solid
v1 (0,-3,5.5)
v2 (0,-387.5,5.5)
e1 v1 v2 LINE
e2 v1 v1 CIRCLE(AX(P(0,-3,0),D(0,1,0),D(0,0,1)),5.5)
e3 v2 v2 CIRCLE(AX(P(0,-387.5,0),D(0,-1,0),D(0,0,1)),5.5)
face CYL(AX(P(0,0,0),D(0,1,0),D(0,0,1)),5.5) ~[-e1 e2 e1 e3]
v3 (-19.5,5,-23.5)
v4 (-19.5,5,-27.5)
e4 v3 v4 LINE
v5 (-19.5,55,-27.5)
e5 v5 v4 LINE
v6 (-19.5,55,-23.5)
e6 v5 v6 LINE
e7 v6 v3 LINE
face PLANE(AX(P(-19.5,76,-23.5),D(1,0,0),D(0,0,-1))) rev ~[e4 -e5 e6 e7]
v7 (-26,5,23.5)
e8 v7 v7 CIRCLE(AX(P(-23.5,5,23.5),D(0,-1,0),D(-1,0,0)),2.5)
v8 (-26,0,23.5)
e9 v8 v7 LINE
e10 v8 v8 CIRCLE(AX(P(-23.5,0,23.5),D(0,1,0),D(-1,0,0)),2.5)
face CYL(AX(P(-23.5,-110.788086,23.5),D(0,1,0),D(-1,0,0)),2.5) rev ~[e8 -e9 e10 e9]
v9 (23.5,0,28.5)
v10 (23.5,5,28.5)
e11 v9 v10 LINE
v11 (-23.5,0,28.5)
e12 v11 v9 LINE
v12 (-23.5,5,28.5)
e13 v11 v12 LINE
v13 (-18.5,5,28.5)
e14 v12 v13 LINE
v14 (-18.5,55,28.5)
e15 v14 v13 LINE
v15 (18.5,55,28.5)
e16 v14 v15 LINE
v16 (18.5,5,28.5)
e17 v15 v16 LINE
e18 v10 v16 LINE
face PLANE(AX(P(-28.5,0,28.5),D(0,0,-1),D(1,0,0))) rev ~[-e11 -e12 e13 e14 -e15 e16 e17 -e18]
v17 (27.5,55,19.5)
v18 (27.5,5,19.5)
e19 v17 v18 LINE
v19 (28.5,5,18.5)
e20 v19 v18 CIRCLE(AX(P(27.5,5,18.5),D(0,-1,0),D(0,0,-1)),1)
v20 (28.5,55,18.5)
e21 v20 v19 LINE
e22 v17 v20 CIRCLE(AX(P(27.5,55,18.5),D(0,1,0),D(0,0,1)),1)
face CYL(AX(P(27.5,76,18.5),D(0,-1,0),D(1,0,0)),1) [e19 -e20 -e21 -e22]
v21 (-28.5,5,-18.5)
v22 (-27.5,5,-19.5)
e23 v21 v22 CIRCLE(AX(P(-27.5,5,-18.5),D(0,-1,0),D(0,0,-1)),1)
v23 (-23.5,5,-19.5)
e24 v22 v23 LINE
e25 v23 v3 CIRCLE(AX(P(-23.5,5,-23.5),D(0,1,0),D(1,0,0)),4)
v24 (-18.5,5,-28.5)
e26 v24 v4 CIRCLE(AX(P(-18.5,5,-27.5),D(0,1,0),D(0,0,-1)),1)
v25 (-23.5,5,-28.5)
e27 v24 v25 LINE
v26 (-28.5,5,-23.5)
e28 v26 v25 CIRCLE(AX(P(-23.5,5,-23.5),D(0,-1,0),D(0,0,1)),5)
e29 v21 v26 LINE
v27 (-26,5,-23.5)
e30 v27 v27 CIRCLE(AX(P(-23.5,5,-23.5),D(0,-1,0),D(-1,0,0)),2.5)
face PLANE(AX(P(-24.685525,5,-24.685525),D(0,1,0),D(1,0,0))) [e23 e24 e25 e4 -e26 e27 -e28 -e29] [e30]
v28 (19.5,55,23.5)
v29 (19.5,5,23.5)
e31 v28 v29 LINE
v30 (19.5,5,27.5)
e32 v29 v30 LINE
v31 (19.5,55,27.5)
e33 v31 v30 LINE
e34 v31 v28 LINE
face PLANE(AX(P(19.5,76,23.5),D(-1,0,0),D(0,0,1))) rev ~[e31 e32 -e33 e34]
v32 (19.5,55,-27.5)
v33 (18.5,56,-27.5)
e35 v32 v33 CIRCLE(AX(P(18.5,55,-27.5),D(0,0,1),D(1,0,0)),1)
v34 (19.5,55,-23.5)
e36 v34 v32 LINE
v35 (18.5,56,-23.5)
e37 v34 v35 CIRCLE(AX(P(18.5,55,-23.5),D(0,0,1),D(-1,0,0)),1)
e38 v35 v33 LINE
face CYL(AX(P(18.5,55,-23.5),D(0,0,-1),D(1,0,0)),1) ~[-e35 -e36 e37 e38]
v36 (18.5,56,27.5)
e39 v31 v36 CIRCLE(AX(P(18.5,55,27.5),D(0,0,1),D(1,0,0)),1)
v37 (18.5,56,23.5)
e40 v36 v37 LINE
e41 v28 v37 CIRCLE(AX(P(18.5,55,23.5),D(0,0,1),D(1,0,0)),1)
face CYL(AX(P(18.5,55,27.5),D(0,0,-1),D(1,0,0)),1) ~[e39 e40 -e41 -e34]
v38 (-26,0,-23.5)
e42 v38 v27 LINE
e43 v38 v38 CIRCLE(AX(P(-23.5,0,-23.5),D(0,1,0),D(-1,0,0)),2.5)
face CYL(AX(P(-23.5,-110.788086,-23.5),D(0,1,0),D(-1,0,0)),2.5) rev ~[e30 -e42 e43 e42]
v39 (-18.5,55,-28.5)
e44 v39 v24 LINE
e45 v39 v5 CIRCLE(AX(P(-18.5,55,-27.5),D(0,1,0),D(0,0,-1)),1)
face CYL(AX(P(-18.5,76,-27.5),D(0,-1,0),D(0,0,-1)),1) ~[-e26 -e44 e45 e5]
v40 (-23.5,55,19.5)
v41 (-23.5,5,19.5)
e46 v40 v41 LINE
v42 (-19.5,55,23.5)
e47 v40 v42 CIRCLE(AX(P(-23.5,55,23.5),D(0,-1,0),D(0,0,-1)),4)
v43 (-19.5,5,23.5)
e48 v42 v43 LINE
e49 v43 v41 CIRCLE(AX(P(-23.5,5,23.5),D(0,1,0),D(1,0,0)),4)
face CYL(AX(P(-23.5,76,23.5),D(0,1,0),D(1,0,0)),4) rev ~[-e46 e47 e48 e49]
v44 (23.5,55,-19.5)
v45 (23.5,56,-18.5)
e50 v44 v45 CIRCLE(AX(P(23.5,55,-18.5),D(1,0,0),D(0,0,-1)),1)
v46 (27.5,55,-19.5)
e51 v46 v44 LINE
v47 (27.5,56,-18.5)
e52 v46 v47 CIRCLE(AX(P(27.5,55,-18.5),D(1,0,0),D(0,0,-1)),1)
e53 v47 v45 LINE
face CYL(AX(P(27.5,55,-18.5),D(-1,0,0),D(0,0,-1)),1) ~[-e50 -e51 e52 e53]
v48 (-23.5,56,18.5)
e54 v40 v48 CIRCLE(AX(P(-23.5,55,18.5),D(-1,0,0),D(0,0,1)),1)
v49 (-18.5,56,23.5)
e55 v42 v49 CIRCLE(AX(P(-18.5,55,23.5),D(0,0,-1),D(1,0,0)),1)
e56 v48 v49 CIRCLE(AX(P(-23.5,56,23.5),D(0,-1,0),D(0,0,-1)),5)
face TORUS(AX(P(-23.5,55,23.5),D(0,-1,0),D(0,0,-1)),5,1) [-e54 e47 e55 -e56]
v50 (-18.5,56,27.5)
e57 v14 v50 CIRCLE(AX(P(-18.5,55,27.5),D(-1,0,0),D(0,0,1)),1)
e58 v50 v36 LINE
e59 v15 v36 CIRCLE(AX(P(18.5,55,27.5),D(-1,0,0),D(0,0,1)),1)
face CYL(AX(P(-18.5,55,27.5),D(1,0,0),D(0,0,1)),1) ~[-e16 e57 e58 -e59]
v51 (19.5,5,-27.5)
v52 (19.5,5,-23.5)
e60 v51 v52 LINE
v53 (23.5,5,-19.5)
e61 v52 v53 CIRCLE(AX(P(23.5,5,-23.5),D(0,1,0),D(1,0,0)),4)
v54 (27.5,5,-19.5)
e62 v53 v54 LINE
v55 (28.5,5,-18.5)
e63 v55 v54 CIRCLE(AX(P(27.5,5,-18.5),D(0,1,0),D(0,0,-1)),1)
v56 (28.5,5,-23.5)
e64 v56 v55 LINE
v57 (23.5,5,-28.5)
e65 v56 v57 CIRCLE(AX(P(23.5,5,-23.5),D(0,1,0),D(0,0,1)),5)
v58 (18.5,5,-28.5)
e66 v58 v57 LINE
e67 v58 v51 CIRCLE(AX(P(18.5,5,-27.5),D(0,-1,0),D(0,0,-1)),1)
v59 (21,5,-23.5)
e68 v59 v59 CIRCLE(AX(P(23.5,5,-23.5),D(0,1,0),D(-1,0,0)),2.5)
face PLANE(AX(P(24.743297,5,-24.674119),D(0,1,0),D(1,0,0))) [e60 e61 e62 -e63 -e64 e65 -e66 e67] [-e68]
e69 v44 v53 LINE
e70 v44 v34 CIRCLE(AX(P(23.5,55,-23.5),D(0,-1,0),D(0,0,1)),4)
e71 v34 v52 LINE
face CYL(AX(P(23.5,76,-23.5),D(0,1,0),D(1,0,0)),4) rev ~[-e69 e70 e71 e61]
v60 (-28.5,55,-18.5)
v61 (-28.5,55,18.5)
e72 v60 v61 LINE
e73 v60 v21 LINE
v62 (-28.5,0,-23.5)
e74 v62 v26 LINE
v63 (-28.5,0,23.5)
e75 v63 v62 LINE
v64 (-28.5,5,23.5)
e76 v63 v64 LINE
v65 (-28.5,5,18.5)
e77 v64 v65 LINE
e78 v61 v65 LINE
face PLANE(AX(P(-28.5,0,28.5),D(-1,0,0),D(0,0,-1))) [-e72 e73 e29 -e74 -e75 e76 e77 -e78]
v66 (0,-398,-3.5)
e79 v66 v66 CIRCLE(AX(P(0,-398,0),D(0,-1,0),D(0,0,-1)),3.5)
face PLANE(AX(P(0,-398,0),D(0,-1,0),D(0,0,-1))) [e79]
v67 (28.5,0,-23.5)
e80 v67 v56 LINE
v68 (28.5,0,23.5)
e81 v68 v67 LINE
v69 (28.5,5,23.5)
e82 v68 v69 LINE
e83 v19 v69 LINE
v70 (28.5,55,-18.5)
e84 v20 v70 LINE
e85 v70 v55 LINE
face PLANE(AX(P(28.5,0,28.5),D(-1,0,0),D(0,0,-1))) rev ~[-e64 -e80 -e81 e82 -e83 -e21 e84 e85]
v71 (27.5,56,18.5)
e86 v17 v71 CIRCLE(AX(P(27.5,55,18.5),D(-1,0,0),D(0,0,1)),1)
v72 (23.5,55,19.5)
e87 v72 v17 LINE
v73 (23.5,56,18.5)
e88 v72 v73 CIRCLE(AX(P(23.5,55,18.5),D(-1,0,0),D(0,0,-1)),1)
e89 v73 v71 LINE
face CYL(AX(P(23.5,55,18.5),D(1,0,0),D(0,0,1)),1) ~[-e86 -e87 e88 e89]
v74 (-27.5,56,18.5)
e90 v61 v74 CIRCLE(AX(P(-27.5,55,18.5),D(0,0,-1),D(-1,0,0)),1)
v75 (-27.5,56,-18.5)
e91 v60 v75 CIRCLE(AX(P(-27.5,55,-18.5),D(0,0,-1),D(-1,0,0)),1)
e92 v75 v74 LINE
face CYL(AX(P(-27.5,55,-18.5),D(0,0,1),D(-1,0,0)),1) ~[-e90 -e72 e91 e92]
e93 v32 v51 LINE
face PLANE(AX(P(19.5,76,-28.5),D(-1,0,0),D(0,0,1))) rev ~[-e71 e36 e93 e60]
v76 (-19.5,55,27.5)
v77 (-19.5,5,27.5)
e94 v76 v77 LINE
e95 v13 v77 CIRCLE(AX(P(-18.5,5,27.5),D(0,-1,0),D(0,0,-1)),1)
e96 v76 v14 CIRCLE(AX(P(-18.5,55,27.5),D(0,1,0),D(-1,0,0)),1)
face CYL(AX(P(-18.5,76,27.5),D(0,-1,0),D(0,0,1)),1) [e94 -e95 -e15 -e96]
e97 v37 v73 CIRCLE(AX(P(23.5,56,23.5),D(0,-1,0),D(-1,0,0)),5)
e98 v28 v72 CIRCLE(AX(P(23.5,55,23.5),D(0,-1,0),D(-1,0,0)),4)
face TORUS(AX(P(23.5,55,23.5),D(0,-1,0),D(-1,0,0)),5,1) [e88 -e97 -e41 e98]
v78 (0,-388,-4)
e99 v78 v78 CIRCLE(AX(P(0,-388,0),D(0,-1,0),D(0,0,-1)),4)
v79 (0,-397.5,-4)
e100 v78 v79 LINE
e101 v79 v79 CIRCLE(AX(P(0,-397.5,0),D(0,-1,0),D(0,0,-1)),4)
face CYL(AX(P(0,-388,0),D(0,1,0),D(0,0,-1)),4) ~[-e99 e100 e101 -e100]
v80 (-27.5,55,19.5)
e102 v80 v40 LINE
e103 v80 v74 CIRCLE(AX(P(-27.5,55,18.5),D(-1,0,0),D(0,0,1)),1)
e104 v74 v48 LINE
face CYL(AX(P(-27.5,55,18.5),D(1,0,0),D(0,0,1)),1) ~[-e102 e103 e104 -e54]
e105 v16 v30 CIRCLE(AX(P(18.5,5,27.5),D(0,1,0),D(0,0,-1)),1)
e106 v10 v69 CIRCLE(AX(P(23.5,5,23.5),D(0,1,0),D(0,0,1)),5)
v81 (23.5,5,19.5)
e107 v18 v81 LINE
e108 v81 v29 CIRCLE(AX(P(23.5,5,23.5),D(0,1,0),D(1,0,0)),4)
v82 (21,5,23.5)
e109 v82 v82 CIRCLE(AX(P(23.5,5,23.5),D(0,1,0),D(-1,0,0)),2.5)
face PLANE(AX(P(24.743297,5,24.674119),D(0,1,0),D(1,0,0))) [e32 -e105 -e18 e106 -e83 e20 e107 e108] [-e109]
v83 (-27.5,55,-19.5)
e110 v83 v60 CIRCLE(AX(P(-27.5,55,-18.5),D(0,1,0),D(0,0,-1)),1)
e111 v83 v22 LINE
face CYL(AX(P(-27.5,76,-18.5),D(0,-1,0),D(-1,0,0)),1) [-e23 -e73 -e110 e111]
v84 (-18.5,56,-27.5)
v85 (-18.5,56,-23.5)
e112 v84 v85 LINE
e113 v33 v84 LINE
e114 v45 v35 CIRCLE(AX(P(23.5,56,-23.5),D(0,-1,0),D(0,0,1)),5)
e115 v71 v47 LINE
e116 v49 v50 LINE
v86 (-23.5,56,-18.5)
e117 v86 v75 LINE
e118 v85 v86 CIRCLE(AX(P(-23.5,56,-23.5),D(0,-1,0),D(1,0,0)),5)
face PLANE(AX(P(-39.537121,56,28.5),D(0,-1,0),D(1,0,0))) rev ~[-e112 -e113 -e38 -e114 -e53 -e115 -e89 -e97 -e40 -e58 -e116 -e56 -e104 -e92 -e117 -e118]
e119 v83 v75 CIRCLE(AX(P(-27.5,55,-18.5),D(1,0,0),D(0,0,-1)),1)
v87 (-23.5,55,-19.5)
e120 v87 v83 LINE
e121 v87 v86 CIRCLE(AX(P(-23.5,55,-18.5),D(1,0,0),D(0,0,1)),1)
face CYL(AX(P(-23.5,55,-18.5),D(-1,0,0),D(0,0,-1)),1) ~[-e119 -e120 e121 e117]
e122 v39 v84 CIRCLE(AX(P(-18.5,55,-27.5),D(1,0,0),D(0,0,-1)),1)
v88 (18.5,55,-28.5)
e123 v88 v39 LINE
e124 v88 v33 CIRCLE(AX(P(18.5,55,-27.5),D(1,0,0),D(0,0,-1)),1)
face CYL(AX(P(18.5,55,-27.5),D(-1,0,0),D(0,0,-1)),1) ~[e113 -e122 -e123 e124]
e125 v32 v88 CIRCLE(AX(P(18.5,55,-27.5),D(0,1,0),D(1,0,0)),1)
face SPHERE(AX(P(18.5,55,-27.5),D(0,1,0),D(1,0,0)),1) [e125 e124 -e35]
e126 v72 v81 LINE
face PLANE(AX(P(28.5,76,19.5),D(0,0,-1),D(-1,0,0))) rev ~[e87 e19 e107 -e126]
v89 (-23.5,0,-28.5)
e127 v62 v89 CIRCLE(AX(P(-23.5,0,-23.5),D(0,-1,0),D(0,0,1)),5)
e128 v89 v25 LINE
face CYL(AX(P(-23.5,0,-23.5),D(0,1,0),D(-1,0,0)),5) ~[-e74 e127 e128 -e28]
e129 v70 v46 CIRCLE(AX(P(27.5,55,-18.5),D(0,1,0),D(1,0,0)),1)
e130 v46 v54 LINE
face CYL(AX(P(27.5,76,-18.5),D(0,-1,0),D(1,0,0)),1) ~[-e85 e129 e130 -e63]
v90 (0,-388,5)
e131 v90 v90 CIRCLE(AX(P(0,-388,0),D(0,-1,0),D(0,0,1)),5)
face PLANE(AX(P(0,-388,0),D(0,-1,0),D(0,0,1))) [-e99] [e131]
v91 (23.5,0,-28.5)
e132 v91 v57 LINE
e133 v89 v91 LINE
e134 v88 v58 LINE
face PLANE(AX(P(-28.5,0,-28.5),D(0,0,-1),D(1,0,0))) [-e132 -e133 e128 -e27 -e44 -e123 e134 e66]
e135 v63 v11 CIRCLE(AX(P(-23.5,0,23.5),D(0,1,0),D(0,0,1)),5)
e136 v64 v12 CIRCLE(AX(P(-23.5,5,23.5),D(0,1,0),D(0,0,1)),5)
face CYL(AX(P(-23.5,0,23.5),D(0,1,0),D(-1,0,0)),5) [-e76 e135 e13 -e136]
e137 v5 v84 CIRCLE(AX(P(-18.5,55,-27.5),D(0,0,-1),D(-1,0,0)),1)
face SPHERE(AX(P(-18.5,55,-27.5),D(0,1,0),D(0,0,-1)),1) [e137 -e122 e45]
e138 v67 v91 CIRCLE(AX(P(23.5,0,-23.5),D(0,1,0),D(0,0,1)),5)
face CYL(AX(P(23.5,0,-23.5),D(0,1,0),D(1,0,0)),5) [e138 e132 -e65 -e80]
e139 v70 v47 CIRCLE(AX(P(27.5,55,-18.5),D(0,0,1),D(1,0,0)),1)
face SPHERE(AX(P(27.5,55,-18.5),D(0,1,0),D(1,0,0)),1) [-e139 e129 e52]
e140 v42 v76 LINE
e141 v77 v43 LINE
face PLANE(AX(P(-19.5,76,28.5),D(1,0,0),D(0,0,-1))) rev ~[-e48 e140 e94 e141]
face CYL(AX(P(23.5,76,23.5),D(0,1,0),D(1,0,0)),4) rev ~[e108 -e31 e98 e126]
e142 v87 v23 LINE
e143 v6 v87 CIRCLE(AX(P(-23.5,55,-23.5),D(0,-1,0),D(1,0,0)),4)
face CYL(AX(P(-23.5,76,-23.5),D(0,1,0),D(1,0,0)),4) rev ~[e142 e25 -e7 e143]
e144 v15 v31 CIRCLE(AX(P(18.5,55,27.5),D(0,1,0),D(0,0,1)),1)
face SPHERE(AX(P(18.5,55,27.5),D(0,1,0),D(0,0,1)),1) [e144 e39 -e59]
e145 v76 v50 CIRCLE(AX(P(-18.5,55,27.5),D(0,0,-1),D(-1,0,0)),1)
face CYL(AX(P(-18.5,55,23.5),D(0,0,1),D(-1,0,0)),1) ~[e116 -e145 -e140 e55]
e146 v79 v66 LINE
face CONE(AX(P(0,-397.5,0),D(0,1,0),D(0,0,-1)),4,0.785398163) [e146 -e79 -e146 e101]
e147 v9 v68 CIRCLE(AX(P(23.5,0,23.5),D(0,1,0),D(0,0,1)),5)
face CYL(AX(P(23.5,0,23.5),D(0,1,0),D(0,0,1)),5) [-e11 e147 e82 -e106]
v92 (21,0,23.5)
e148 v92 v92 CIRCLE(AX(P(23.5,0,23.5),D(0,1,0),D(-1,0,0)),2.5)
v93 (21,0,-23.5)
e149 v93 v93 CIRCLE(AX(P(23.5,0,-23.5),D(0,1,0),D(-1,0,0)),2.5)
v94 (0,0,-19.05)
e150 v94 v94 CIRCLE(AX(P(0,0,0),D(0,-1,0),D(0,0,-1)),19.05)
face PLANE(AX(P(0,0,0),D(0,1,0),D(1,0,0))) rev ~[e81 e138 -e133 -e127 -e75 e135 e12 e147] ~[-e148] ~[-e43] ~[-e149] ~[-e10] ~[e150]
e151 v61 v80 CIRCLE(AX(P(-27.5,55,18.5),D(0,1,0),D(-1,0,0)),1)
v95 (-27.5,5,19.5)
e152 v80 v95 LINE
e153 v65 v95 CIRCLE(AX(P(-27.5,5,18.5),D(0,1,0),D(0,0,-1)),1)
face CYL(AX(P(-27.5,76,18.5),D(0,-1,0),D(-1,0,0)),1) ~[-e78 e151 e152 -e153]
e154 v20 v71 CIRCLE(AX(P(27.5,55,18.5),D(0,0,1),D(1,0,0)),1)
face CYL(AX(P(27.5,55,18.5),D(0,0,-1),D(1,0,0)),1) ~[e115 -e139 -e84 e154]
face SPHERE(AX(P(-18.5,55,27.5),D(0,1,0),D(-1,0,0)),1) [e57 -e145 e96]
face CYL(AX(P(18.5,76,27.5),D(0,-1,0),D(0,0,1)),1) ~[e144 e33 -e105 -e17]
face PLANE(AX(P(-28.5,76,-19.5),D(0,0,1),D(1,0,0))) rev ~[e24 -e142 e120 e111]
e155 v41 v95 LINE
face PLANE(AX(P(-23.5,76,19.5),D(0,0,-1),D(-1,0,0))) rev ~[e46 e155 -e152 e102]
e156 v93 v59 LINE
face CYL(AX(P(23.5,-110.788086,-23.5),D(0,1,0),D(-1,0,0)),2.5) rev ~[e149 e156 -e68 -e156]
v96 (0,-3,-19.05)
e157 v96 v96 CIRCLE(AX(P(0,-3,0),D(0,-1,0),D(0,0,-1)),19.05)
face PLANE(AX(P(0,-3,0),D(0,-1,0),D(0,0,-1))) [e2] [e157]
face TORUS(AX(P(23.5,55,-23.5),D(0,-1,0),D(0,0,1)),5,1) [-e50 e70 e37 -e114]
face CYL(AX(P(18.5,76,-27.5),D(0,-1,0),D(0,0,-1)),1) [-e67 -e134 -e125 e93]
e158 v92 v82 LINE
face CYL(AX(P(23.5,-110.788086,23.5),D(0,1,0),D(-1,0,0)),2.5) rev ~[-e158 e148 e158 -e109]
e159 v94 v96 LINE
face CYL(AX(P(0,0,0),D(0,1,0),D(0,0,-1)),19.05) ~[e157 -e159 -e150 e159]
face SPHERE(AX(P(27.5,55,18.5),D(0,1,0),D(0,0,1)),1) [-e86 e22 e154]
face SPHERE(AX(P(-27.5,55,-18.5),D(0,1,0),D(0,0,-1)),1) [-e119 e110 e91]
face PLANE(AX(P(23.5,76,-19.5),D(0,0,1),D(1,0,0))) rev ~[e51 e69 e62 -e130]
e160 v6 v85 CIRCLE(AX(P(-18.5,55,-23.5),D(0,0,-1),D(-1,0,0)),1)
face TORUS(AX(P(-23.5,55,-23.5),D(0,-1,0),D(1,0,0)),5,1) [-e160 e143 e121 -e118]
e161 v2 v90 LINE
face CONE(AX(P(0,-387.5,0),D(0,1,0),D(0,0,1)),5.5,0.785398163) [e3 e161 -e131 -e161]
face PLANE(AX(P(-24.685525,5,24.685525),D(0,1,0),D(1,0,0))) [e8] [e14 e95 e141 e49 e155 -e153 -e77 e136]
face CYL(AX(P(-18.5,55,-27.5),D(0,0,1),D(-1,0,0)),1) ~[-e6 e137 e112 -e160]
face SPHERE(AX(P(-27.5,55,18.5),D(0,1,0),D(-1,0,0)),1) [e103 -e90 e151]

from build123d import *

# Parameters (mm, degrees)
SKETCH1_W                = 57
SKETCH1_H                = 57
EXTRUDE1_DEPTH           = 76
F_5_0_5_DIAMETER_HOLE1_D = 5
SKETCH6_R                = 4
SKETCH6_R_2              = 2.5
EXTRUDE4_DEPTH           = 71
FILLET1_R                = 5
SKETCH7_R                = 3
EXTRUDE5_DEPTH           = 101
SKETCH8_R                = 19.05
EXTRUDE6_DEPTH           = 3
FILLET2_R                = 1
SKETCH9_R                = 5.5
BOSS_EXTRUDE1_DEPTH      = 388
CHAMFER1_SIZE            = 0.5
SKETCH10_R               = 4
BOSS_EXTRUDE2_DEPTH      = 10
CHAMFER2_SIZE            = 0.5
CUT_EXTRUDE1_REACH       = 405.07
SKETCH11_W               = 81.226597498
SKETCH11_H               = 31.824543895
FILLET3_R                = 1


with BuildPart() as part:
    # Sketch1 → Extrude1 (new body)
    with BuildSketch(Plane(origin=(0, 0, 0), x_dir=(1, 0, 0), z_dir=(0, 1, 0))):
        Rectangle(SKETCH1_W, SKETCH1_H)
    extrude(amount=EXTRUDE1_DEPTH)

    # Ø5.0 (5) Diameter Hole1 (through all)
    with Locations(Plane.XZ):
        with Locations((-23.5, 23.5), (23.5, 23.5), (23.5, -23.5), (-23.5, -23.5)):
            Hole(F_5_0_5_DIAMETER_HOLE1_D / 2)

    # Sketch6 → Extrude4 (cut)
    # profile 1 of 12: a face of its own
    with BuildSketch(Plane(origin=(0, 76, 0), x_dir=(1, 0, 0), z_dir=(0, 1, 0))):
        Polygon((-28.5, 28.5), (-19.5, 28.5), (-19.5, 32.511741208), (-33.908905561, 32.511741208), (-33.908905561, 19.5), (-28.5, 19.5), align=None)
    # profile 2 of 12: a face of its own
    with BuildSketch(Plane(origin=(0, 76, 0), x_dir=(1, 0, 0), z_dir=(0, 1, 0))):
        with BuildLine():
            ThreePointArc((-23.5, 19.5), (-26.328427125, 26.328427125), (-19.5, 23.5))
            Line((-19.5, 23.5), (-19.5, 28.5))
            Line((-19.5, 28.5), (-28.5, 28.5))
            Line((-28.5, 28.5), (-28.5, 19.5))
            Line((-28.5, 19.5), (-23.5, 19.5))
        make_face()
    # profile 3 of 12: a face of its own
    with BuildSketch(Plane(origin=(0, 76, 0), x_dir=(1, 0, 0), z_dir=(0, 1, 0))):
        with Locations((-23.5, 23.5)):
            Circle(SKETCH6_R)
        with Locations(Location((-23.5, 23.5, 0), (0, 0, 90))):
            Circle(SKETCH6_R_2, mode=Mode.SUBTRACT)
    # profile 4 of 12: a face of its own
    with BuildSketch(Plane(origin=(0, 76, 0), x_dir=(1, 0, 0), z_dir=(0, 1, 0))):
        Polygon((19.5, 36.471560472), (19.5, 28.5), (28.5, 28.5), (28.5, 19.5), (41.168352552, 19.5), (41.168352552, 36.471560472), align=None)
    # profile 5 of 12: a face of its own
    with BuildSketch(Plane(origin=(0, 76, 0), x_dir=(1, 0, 0), z_dir=(0, 1, 0))):
        with BuildLine():
            Line((28.5, 28.5), (19.5, 28.5))
            Line((19.5, 28.5), (19.5, 23.5))
            ThreePointArc((19.5, 23.5), (23.5, 27.5), (27.5, 23.5))
            ThreePointArc((27.5, 23.5), (26.328427125, 20.671572875), (23.5, 19.5))
            Line((23.5, 19.5), (28.5, 19.5))
            Line((28.5, 19.5), (28.5, 28.5))
        make_face()
    # profile 6 of 12: a face of its own
    with BuildSketch(Plane(origin=(0, 76, 0), x_dir=(1, 0, 0), z_dir=(0, 1, 0))):
        with Locations((23.5, 23.5)):
            Circle(SKETCH6_R)
        with Locations(Location((23.5, 23.5, 0), (0, 0, 90))):
            Circle(SKETCH6_R_2, mode=Mode.SUBTRACT)
    # profile 7 of 12: a face of its own
    with BuildSketch(Plane(origin=(0, 76, 0), x_dir=(1, 0, 0), z_dir=(0, 1, 0))):
        with Locations((23.5, -23.5)):
            Circle(SKETCH6_R)
        with Locations(Location((23.5, -23.5, 0), (0, 0, 90))):
            Circle(SKETCH6_R_2, mode=Mode.SUBTRACT)
    # profile 8 of 12: a face of its own
    with BuildSketch(Plane(origin=(0, 76, 0), x_dir=(1, 0, 0), z_dir=(0, 1, 0))):
        with BuildLine():
            Line((28.5, -28.5), (28.5, -19.5))
            Line((28.5, -19.5), (23.5, -19.5))
            ThreePointArc((23.5, -19.5), (26.328427125, -20.671572875), (27.5, -23.5))
            ThreePointArc((27.5, -23.5), (23.5, -27.5), (19.5, -23.5))
            Line((19.5, -23.5), (19.5, -28.5))
            Line((19.5, -28.5), (28.5, -28.5))
        make_face()
    # profile 9 of 12: a face of its own
    with BuildSketch(Plane(origin=(0, 76, 0), x_dir=(1, 0, 0), z_dir=(0, 1, 0))):
        Polygon((44.252209519, -19.5), (28.5, -19.5), (28.5, -28.5), (19.5, -28.5), (19.5, -40.050429997), (44.252209519, -40.050429997), align=None)
    # profile 10 of 12: a face of its own
    with BuildSketch(Plane(origin=(0, 76, 0), x_dir=(1, 0, 0), z_dir=(0, 1, 0))):
        Polygon((-28.5, -28.5), (-28.5, -19.5), (-37.670786859, -19.5), (-37.670786859, -37.828231874), (-19.5, -37.828231874), (-19.5, -28.5), align=None)
    # profile 11 of 12: a face of its own
    with BuildSketch(Plane(origin=(0, 76, 0), x_dir=(1, 0, 0), z_dir=(0, 1, 0))):
        with BuildLine():
            Line((-23.5, -19.5), (-28.5, -19.5))
            Line((-28.5, -19.5), (-28.5, -28.5))
            Line((-28.5, -28.5), (-19.5, -28.5))
            Line((-19.5, -28.5), (-19.5, -23.5))
            ThreePointArc((-19.5, -23.5), (-26.328427125, -26.328427125), (-23.5, -19.5))
        make_face()
    # profile 12 of 12: a face of its own
    with BuildSketch(Plane(origin=(0, 76, 0), x_dir=(1, 0, 0), z_dir=(0, 1, 0))):
        with Locations((-23.5, -23.5)):
            Circle(SKETCH6_R)
        with Locations(Location((-23.5, -23.5, 0), (0, 0, 90))):
            Circle(SKETCH6_R_2, mode=Mode.SUBTRACT)
    extrude(amount=-EXTRUDE4_DEPTH, mode=Mode.SUBTRACT)

    # Fillet1
    fillet1_edges = [part.edges().sort_by_distance(p)[0] for p in [
        (-28.5, 2.5, 28.5),
        (-28.5, 2.5, -28.5),
        (28.5, 2.5, -28.5),
        (28.5, 2.5, 28.5),
    ]]
    fillet(fillet1_edges, radius=FILLET1_R)



with BuildPart() as body_2:
    # Sketch7 → Extrude5 (new body)
    with BuildSketch(Plane(origin=(0, 76, 0), x_dir=(1, 0, 0), z_dir=(0, 1, 0))):
        with Locations(Location((0, 0, 0), (0, 0, 270))):
            Circle(SKETCH7_R)
    extrude(amount=-EXTRUDE5_DEPTH)


with BuildPart() as part_1:
    add(part.part)

    add(body_2.part)  # Extrude6 merges body 2
    # Sketch8 → Extrude6 (add)
    with BuildSketch(Plane.XZ):
        with Locations(Location((0, 0, 0), (0, 0, 270))):
            Circle(SKETCH8_R)
    extrude(amount=EXTRUDE6_DEPTH)

    # Fillet2
    fillet2_edges = [part_1.edges().sort_by_distance(p)[0] for p in [
        (-28.5, 40.5, 19.5),
        (0, 76, 28.5),
        (-19.5, 40.5, 28.5),
        (-19.5, 76, 26),
        (-20.671572875, 76, 20.671572875),
        (-26, 76, 19.5),
        (-28.5, 76, 0),
        (-28.5, 40.5, -19.5),
        (-19.5, 40.5, -28.5),
        (-19.5, 76, -26),
        (-26, 76, -19.5),
        (-20.671572875, 76, -20.671572875),
        (0, 76, -28.5),
        (19.5, 76, -26),
        (26, 76, -19.5),
        (20.671572875, 76, -20.671572875),
        (19.5, 40.5, -28.5),
        (28.5, 40.5, -19.5),
        (19.5, 40.5, 28.5),
        (28.5, 76, 0),
        (26, 76, 19.5),
        (19.5, 76, 26),
        (20.671572875, 76, 20.671572875),
        (28.5, 40.5, 19.5),
    ]]
    fillet(fillet2_edges, radius=FILLET2_R)

    # Sketch9 → Boss-Extrude1 (add)
    with BuildSketch(Plane.XZ):
        with Locations(Location((0, 0, 0), (0, 0, 90))):
            Circle(SKETCH9_R)
    extrude(amount=BOSS_EXTRUDE1_DEPTH)

    # Chamfer1
    chamfer1_edges = [part_1.edges().sort_by_distance(p)[0] for p in [
        (0, -388, -5.5),
    ]]
    chamfer(chamfer1_edges, length=CHAMFER1_SIZE)

    # Sketch10 → Boss-Extrude2 (add)
    with BuildSketch(Plane.XZ.offset(388)):
        with Locations(Location((0, 0, 0), (0, 0, 270))):
            Circle(SKETCH10_R)
    extrude(amount=BOSS_EXTRUDE2_DEPTH)

    # Chamfer2
    chamfer2_edges = [part_1.edges().sort_by_distance(p)[0] for p in [
        (0, -398, 4),
    ]]
    chamfer(chamfer2_edges, length=CHAMFER2_SIZE)

    # Sketch11 → Cut-Extrude1 (cut, up to next)
    with BuildSketch(Plane.XY.offset(28.5), mode=Mode.PRIVATE) as cut_extrude1_sk1:
        with Locations((1.076178023, 71.912271948)):
            Rectangle(SKETCH11_W, SKETCH11_H)
    cut_extrude1_tool1 = extrude(cut_extrude1_sk1.sketch, amount=-CUT_EXTRUDE1_REACH, mode=Mode.PRIVATE) & part_1.part
    add(cut_extrude1_tool1.solids().sort_by_distance((1.076178, 71.912272, 28.5))[0], mode=Mode.SUBTRACT)

    # Fillet3
    fillet3_edges = [part_1.edges().sort_by_distance(p)[0] for p in [
        (0, 56, 28.5),
        (19.5, 56, 25.5),
        (19.207106781, 56, 28.207106781),
        (-19.207106781, 56, 28.207106781),
        (-28.207106781, 56, 19.207106781),
        (-28.207106781, 56, -19.207106781),
        (-19.207106781, 56, -28.207106781),
        (19.207106781, 56, -28.207106781),
        (19.5, 56, -25.5),
        (25.5, 56, -19.5),
        (28.207106781, 56, -19.207106781),
        (28.207106781, 56, 19.207106781),
        (25.5, 56, 19.5),
        (28.5, 56, 0),
        (0, 56, -28.5),
        (-28.5, 56, 0),
        (-25.5, 56, -19.5),
        (-19.5, 56, -25.5),
        (-20.671572875, 56, -20.671572875),
        (20.671572875, 56, -20.671572875),
        (20.671572875, 56, 20.671572875),
        (-19.5, 56, 25.5),
        (-25.5, 56, 19.5),
        (-20.671572875, 56, 20.671572875),
    ]]
    fillet(fillet3_edges, radius=FILLET3_R)


solid = part_1.part
